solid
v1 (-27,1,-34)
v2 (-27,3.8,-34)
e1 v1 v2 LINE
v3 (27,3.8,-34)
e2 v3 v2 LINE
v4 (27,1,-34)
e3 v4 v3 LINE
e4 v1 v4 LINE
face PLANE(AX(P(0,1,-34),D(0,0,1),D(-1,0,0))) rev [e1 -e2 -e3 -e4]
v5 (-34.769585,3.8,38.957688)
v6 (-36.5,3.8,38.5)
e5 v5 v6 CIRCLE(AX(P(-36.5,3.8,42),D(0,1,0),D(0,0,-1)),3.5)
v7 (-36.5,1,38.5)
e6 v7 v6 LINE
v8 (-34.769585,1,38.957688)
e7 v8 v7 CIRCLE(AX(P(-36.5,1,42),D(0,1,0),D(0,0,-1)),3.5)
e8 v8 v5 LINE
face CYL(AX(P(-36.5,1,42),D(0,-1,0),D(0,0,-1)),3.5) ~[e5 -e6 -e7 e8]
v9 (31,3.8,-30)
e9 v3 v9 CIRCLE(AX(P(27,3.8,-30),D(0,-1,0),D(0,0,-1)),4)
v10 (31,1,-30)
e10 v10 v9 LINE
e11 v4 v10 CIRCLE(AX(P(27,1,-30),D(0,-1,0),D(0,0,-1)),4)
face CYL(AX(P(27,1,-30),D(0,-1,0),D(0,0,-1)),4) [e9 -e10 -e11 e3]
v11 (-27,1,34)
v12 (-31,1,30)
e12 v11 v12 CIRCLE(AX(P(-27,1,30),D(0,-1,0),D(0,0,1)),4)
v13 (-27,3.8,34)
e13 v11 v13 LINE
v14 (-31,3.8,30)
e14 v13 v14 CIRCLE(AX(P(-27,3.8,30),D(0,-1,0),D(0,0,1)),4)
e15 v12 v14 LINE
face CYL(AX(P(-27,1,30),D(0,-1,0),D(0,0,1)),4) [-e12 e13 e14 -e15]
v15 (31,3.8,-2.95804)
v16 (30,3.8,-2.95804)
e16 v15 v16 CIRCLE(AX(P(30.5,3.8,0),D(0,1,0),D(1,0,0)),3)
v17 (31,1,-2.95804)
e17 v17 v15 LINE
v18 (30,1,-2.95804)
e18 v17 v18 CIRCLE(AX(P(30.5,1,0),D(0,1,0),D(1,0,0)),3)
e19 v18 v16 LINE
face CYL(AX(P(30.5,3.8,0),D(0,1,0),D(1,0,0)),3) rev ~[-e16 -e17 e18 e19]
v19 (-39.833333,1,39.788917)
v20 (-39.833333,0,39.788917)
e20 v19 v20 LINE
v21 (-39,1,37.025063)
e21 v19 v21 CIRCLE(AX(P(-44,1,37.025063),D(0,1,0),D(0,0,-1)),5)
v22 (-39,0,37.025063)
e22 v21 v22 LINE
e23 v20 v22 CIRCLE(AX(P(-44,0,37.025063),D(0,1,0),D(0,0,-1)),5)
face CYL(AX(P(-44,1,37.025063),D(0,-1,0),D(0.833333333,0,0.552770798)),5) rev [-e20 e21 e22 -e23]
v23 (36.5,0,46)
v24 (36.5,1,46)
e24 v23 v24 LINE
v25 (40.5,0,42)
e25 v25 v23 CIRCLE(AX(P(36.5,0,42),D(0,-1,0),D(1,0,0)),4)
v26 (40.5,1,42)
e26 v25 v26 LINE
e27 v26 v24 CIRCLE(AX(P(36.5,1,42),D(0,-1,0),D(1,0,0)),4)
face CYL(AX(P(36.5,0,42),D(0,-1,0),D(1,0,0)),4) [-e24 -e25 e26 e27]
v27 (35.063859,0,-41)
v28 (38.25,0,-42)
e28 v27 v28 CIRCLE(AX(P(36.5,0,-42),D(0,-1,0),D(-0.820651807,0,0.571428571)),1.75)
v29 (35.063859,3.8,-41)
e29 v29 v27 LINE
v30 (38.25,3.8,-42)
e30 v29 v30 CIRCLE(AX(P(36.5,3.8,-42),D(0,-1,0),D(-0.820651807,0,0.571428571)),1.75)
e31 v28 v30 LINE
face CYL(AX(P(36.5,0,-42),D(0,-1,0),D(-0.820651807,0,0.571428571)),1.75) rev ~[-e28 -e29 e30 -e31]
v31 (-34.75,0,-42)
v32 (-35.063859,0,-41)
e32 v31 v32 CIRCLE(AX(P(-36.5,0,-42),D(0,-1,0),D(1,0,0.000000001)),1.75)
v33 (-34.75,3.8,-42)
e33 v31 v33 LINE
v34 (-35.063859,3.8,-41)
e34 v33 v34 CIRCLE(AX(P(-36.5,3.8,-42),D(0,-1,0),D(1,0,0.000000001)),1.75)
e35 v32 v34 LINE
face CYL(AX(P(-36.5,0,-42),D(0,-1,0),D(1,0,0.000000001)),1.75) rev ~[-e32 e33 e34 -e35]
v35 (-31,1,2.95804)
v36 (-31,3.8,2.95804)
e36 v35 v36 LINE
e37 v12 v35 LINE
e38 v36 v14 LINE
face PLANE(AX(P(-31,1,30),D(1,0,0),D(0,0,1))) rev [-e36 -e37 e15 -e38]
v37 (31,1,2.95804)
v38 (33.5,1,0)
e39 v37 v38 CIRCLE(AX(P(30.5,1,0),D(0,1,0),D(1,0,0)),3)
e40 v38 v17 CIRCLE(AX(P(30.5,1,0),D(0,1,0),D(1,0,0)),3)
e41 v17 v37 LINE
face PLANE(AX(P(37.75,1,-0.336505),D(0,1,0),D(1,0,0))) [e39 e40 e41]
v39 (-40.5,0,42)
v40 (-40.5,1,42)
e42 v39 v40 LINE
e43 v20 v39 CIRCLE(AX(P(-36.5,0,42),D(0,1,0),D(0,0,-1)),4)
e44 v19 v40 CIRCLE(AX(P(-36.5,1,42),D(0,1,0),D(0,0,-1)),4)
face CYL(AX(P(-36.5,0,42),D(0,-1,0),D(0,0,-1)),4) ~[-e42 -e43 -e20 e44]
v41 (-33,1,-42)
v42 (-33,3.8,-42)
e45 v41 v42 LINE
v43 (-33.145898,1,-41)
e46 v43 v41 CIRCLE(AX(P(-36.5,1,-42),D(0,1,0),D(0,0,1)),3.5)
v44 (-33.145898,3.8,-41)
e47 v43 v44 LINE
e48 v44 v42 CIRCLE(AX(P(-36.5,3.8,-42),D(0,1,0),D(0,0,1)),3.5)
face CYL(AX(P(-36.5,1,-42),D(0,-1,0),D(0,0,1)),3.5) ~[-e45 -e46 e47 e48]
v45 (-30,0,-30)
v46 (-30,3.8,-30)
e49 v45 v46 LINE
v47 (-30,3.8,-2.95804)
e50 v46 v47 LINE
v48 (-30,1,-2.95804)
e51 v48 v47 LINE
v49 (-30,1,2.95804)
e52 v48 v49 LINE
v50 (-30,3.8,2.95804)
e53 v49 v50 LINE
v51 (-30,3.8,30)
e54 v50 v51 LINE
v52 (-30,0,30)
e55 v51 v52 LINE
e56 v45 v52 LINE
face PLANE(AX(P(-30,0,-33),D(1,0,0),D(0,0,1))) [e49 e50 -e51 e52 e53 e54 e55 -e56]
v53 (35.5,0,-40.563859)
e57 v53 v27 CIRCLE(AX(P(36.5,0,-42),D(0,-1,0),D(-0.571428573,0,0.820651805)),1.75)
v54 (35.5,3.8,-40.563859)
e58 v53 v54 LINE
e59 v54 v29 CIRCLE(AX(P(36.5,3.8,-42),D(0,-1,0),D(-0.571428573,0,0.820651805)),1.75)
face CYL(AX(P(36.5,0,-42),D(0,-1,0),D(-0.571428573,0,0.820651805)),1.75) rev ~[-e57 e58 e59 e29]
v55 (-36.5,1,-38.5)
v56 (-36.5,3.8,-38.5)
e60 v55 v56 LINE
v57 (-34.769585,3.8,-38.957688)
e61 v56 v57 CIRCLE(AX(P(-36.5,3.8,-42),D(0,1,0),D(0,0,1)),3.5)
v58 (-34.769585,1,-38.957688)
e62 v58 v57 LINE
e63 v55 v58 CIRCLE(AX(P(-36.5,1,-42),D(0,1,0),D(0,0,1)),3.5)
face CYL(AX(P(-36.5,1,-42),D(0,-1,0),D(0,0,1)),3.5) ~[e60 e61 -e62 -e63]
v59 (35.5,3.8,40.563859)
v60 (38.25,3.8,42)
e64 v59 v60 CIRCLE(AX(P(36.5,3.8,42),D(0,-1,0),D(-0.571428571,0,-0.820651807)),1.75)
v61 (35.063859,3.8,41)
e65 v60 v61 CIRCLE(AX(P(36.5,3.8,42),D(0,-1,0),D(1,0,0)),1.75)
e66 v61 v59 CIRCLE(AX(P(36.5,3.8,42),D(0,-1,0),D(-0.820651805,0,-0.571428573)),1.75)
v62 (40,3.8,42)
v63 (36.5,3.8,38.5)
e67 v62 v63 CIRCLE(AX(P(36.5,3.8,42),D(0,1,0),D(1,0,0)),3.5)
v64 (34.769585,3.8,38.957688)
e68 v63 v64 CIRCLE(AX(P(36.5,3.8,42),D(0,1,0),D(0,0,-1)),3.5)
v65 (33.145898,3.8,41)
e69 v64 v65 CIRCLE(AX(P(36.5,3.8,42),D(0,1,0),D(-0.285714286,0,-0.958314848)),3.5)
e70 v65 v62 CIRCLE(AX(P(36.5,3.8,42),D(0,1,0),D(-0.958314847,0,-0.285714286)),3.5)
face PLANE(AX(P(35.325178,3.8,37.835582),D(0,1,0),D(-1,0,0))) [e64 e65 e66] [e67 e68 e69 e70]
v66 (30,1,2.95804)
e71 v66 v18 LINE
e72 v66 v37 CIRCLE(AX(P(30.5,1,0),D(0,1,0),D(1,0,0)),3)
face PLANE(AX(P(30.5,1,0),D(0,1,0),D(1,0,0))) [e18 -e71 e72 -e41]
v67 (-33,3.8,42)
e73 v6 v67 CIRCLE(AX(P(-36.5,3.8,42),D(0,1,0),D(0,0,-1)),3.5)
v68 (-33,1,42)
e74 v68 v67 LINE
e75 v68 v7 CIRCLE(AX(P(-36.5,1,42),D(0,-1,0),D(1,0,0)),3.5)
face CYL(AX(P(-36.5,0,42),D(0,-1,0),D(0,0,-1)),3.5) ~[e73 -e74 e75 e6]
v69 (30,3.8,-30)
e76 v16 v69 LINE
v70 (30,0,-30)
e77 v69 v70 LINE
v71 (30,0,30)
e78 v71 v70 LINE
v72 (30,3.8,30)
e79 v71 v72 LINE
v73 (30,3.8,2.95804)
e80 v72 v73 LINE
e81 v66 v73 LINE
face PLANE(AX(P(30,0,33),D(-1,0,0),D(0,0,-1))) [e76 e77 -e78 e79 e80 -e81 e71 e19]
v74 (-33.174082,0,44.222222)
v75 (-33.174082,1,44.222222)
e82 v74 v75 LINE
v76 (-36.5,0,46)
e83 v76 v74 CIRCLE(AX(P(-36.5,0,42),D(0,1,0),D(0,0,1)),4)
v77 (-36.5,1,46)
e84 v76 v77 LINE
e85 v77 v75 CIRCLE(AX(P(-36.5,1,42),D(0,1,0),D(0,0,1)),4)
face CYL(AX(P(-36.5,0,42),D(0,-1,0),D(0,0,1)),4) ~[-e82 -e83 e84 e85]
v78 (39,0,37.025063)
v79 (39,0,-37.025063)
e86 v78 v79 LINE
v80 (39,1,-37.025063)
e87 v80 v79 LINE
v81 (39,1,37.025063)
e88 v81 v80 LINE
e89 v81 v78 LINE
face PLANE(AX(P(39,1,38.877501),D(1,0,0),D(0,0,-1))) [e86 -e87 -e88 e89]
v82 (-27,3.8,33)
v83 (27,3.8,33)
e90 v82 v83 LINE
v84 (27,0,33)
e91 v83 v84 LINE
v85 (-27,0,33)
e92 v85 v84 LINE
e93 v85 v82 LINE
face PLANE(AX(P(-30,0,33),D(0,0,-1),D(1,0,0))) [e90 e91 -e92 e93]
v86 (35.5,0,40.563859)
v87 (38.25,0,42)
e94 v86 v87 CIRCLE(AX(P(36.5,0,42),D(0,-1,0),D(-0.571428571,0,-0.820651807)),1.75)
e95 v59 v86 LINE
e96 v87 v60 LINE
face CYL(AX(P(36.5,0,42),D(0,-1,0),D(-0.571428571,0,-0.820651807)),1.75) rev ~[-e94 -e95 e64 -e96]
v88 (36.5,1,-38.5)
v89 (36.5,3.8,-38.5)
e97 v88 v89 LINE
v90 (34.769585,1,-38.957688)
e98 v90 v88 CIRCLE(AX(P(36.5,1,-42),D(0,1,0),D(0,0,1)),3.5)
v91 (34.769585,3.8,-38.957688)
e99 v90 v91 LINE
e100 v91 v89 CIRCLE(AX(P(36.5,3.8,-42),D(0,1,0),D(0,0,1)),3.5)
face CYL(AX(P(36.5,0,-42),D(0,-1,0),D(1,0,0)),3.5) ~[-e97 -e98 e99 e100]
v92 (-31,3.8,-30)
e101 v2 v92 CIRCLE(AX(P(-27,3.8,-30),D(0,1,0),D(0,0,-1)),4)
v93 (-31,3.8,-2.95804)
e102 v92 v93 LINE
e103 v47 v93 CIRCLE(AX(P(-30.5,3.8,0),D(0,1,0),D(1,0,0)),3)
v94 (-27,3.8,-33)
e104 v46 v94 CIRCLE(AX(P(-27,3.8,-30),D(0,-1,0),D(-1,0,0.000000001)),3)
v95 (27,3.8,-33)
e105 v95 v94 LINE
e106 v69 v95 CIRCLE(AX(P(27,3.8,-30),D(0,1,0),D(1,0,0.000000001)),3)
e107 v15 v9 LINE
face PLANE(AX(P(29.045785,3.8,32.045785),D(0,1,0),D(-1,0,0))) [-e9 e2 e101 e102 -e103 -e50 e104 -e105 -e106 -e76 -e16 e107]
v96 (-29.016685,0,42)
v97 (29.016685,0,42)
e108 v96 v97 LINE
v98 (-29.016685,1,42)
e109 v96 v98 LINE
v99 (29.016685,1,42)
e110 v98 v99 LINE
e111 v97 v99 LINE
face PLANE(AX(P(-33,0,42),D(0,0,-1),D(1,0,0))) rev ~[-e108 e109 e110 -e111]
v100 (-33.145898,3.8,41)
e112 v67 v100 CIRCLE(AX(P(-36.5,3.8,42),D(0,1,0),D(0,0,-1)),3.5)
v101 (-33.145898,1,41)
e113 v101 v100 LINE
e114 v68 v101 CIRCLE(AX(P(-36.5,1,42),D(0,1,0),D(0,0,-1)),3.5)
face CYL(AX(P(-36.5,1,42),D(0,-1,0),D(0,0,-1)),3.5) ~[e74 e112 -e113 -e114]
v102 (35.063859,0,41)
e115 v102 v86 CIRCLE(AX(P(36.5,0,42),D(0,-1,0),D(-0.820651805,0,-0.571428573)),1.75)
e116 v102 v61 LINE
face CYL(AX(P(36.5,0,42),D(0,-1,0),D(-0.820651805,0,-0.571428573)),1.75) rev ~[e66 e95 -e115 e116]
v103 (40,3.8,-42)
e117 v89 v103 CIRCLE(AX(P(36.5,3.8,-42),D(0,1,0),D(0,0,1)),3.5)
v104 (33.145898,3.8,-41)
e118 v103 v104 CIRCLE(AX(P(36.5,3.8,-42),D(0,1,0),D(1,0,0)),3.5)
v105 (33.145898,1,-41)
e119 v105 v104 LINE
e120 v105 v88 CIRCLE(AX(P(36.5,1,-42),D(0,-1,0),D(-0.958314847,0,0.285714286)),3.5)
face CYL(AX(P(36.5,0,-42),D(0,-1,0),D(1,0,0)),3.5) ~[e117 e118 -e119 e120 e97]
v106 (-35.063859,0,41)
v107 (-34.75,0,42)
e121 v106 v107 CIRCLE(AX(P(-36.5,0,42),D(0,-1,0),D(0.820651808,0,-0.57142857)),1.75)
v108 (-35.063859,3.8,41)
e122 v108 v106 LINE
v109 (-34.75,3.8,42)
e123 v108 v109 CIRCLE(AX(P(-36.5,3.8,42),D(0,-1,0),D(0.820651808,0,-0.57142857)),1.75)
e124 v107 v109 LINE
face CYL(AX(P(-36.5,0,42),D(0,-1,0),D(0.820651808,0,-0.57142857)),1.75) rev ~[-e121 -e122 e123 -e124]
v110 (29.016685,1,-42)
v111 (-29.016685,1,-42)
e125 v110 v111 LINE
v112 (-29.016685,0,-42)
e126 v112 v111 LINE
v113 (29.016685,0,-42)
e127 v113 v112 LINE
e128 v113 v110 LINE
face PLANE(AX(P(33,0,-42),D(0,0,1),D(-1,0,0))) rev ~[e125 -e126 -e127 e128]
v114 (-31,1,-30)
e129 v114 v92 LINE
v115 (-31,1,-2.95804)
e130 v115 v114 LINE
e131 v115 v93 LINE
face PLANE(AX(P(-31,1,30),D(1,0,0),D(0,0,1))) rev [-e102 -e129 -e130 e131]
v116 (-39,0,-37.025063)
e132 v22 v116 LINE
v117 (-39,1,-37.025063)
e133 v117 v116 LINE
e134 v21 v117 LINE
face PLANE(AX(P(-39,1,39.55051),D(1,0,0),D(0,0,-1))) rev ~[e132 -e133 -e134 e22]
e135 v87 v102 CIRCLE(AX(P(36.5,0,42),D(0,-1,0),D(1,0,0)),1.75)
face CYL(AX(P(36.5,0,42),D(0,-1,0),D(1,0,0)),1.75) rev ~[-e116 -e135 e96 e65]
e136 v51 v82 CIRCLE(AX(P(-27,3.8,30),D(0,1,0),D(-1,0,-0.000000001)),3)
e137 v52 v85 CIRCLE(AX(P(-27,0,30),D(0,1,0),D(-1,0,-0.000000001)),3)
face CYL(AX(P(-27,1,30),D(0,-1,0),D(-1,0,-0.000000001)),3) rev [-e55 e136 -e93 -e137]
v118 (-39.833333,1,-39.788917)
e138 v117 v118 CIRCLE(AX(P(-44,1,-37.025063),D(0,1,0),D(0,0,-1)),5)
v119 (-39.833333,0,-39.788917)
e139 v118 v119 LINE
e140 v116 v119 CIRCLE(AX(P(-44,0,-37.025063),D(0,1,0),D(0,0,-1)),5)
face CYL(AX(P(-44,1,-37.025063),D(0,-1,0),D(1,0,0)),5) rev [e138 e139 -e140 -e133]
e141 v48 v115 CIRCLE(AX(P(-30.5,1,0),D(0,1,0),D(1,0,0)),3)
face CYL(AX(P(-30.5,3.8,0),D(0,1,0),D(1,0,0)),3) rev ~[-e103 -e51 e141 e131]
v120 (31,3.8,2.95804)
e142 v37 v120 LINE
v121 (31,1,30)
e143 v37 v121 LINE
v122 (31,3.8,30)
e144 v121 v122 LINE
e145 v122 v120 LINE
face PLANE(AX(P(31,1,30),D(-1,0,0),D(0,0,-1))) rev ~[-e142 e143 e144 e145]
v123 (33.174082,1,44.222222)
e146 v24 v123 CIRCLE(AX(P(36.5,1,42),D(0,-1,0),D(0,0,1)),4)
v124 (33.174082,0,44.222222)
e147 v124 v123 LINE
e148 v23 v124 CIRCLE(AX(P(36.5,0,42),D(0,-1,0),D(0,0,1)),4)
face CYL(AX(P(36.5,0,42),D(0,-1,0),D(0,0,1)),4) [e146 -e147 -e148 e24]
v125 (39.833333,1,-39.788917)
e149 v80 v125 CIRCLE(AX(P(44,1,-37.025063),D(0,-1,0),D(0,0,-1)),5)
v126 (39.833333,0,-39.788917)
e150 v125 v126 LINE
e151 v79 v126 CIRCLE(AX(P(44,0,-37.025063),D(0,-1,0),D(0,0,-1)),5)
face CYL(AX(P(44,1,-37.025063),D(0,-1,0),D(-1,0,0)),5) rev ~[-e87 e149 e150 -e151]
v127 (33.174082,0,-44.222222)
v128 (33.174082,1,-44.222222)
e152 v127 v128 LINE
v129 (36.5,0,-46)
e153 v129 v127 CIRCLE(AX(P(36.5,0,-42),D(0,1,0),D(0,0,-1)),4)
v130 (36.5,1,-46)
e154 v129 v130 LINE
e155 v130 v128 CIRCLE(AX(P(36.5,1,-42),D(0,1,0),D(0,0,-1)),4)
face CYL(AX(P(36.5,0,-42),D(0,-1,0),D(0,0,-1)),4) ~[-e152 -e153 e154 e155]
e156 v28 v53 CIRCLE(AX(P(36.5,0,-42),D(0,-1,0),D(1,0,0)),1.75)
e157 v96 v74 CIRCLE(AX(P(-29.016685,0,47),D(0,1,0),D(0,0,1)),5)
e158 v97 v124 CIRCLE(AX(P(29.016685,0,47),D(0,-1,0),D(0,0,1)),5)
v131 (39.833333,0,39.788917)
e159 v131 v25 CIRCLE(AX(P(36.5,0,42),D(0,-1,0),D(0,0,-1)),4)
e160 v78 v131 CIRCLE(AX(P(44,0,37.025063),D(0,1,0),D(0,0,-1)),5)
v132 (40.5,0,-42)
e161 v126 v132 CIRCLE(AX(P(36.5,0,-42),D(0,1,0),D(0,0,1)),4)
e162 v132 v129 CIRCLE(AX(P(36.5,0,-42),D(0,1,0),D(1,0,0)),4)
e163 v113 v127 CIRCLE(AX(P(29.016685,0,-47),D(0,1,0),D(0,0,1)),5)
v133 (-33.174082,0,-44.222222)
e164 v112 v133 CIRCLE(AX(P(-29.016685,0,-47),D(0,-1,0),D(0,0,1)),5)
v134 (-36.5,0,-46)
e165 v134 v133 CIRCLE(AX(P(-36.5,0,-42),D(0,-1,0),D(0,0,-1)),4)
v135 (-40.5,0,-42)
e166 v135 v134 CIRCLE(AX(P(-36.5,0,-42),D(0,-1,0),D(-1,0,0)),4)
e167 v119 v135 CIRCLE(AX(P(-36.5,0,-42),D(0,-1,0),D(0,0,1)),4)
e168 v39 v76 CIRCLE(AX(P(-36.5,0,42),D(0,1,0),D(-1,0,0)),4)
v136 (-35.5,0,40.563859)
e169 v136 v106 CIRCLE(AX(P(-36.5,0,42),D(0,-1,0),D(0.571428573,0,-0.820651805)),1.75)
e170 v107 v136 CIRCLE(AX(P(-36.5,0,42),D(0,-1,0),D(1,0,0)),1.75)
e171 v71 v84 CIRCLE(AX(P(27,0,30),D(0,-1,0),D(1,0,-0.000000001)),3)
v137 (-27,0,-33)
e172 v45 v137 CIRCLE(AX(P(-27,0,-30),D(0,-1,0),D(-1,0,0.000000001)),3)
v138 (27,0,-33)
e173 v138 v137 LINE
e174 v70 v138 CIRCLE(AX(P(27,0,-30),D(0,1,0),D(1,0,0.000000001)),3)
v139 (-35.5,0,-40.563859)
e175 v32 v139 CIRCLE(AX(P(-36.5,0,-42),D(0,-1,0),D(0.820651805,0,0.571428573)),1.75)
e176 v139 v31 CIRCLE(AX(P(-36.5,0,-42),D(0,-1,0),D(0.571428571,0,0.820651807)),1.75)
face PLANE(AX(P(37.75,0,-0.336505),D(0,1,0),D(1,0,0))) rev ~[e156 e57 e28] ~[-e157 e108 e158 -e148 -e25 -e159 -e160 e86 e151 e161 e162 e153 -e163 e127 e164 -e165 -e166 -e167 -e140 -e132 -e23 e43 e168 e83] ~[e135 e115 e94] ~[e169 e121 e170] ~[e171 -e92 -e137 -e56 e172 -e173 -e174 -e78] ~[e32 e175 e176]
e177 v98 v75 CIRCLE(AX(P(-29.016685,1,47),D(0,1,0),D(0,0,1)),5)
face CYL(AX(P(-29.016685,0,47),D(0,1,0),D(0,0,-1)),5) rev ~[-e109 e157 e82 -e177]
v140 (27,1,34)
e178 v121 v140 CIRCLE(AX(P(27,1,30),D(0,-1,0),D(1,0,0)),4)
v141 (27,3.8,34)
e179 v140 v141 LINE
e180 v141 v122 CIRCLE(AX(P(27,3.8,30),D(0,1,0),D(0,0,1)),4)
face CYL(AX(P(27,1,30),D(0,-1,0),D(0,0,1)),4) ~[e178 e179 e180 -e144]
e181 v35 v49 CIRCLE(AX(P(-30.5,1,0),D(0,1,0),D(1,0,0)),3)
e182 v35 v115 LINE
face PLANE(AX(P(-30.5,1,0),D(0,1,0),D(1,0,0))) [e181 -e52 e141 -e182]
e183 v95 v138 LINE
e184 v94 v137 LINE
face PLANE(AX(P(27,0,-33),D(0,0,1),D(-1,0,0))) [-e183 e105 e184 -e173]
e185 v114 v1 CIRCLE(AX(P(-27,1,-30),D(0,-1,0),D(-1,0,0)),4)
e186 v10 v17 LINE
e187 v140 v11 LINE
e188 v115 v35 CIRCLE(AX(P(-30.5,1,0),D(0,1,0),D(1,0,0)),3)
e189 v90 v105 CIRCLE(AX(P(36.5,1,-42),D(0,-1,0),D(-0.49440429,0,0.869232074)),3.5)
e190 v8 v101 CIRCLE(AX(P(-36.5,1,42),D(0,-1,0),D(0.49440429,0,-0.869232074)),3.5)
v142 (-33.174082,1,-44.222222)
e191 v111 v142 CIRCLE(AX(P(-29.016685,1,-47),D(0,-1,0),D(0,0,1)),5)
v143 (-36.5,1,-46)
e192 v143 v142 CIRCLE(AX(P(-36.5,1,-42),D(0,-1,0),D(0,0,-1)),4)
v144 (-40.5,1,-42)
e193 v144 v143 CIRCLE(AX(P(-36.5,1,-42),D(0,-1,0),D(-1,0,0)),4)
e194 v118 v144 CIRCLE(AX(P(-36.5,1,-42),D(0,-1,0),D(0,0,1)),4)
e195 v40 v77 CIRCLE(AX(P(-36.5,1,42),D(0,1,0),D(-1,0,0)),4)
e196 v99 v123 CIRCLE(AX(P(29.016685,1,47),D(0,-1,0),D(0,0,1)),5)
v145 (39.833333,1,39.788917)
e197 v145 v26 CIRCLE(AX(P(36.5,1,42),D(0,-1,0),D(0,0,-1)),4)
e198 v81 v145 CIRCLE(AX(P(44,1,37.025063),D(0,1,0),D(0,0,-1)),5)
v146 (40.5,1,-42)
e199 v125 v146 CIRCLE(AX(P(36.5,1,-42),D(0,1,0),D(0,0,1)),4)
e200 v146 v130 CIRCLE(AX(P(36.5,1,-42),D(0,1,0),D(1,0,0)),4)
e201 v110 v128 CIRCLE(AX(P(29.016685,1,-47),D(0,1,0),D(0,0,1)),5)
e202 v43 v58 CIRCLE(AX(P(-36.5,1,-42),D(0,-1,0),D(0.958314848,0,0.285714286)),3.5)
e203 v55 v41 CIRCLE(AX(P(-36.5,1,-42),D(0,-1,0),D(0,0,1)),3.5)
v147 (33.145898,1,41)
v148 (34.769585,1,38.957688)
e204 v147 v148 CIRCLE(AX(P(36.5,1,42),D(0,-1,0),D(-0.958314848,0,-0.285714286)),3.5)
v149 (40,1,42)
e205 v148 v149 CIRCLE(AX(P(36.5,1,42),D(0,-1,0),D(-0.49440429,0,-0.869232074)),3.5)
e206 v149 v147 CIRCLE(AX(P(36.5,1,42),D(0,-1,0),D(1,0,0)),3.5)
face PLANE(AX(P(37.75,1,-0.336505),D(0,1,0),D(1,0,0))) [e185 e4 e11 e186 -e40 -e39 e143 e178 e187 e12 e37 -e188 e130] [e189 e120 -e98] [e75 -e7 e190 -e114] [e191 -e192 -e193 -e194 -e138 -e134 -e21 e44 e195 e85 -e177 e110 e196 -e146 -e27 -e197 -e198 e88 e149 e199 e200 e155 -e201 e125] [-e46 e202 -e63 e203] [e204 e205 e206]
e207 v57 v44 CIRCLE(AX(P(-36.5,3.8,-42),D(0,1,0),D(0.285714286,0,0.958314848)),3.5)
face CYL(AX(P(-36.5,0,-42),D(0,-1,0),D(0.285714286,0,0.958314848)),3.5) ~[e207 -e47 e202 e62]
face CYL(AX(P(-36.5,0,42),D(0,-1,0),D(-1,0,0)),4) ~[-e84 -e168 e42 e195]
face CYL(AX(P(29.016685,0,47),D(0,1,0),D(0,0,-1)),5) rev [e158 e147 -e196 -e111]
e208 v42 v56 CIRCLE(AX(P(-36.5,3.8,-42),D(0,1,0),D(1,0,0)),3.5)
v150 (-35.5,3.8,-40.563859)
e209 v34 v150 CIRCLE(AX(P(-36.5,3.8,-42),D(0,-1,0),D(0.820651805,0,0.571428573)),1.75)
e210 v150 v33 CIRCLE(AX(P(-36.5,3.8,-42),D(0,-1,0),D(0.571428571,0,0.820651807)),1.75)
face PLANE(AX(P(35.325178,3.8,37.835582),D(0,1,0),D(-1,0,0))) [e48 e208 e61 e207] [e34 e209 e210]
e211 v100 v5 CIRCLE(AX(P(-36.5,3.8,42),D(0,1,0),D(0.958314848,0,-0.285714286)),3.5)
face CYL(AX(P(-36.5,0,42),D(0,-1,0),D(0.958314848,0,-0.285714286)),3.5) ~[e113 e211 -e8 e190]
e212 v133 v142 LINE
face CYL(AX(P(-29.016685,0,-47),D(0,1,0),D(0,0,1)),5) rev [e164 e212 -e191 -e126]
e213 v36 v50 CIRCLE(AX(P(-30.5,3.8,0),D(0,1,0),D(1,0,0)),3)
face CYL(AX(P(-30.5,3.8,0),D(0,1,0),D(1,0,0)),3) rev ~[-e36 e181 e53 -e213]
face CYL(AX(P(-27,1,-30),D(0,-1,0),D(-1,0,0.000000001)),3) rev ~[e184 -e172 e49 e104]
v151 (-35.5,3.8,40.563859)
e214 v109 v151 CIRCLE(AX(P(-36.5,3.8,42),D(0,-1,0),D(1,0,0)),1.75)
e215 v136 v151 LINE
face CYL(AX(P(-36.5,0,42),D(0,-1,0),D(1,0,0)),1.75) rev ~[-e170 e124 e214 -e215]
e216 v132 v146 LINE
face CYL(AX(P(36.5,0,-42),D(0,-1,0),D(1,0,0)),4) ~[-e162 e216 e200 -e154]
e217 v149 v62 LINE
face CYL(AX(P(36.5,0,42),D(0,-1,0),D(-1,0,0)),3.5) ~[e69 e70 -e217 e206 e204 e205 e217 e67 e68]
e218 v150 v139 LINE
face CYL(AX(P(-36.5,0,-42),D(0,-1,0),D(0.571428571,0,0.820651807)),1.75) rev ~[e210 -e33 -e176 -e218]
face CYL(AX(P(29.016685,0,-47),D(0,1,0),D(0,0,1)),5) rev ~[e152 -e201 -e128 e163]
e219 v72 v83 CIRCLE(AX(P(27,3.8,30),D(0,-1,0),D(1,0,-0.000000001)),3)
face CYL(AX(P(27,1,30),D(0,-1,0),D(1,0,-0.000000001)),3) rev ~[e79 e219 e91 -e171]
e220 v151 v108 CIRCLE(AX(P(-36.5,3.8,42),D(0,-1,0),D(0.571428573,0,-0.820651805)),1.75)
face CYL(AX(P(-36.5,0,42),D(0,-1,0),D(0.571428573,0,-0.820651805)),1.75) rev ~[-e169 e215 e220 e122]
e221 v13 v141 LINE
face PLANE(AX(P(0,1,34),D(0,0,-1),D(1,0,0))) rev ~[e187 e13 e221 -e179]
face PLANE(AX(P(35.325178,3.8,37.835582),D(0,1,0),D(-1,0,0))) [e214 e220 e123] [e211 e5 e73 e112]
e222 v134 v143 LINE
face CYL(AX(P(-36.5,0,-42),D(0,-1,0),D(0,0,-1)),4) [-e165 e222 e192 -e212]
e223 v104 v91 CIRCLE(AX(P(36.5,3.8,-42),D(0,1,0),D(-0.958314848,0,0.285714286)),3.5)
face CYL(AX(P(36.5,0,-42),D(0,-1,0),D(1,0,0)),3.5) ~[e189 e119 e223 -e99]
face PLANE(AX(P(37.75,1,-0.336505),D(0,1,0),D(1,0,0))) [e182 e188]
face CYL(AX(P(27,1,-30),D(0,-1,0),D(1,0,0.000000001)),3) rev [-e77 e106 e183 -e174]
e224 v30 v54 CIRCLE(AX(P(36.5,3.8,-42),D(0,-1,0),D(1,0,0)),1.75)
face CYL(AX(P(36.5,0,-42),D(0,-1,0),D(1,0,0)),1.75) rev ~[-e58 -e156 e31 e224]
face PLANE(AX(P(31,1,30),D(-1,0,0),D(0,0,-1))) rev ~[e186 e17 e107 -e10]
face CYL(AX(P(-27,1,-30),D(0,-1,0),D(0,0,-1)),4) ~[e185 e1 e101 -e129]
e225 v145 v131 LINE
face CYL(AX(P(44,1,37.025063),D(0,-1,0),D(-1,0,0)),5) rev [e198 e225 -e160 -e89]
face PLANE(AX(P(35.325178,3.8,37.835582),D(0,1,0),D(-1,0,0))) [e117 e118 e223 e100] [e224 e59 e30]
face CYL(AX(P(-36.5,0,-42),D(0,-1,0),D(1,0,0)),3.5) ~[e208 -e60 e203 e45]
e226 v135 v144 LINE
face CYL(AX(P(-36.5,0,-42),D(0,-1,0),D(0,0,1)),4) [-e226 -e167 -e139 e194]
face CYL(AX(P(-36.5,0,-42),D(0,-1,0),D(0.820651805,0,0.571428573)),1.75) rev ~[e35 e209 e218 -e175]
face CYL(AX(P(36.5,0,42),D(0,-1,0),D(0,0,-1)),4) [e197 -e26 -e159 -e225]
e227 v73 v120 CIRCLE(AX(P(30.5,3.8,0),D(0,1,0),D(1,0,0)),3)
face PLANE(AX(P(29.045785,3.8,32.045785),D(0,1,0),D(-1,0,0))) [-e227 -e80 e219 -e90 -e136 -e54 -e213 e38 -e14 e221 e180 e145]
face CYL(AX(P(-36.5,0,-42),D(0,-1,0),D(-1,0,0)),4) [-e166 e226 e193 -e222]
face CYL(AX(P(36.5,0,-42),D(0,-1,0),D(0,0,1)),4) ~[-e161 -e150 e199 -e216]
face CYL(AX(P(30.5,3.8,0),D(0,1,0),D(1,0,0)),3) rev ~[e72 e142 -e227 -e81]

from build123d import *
from build123d.topology import SkipClean

# Parameters (mm, degrees)
FRAMEANDBOLTHOLES_DEPTH       = 3.8
INSIDEFILLET_DEPTH            = 3.8
MIRRORFILLET2_COPY_1_DEPTH    = 3.8
WIRETROUGH_DEPTH              = 1
WIREINSIDEWALL_DEPTH          = 2.8
WIRESPACEMIRROR2_COPY_1_DEPTH = 1
WIRESPACEMIRROR2_COPY_2_DEPTH = 2.8
INNERRING_START               = 1
INNERRING_DEPTH               = 1
REMOVEOUTERRING_START         = -2.8
SKETCH8_W                     = 100
SKETCH8_H                     = 100
SKETCH8_R                     = 3.5
SKETCH8_W_2                   = 62
SKETCH8_H_2                   = 68
REMOVEOUTERRING_DEPTH         = 2.8
BOSS_EXTRUDE2_DEPTH           = 1
MIRROR2_COPY_1_DEPTH          = 1
SKETCH10_W                    = 2.5
SKETCH10_H                    = 78.428011258
SKETCH10_H_2                  = 79.101020514
BOSS_EXTRUDE3_DEPTH           = 1
FILLET1_R                     = 5
SKETCH11_R                    = 3
CUT_EXTRUDE1_DEPTH            = 2.8


with BuildPart() as part:
    # Sketch1 → FrameAndBoltHoles (new body)
    with BuildSketch(Plane(origin=(0, 0, 0), x_dir=(1, 0, 0), z_dir=(0, 1, 0))):
        with BuildLine():
            Line((33, 42), (-33, 42))
            ThreePointArc((-33, 42), (-33.036666571, 41.494706462), (-33.145898034, 41))
            Line((-33.145898034, 41), (33.145898034, 41))
            ThreePointArc((33.145898034, 41), (33.036666571, 41.494706462), (33, 42))
        make_face()
        with BuildLine():
            ThreePointArc((-33.145898034, 41), (-33.036666571, 41.494706462), (-33, 42))
            ThreePointArc((-33, 42), (-38.974873734, 44.474873734), (-36.5, 38.5))
            ThreePointArc((-36.5, 38.5), (-35.994706462, 38.536666571), (-35.5, 38.645898034))
            Line((-35.5, 38.645898034), (-35.5, 40.563859338))
            ThreePointArc((-35.5, 40.563859338), (-38.051209206, 42.810092587), (-34.75, 42))
            ThreePointArc((-34.75, 42), (-34.83030749, 41.475951413), (-35.063859338, 41))
            Line((-35.063859338, 41), (-33.145898034, 41))
        make_face()
        with BuildLine():
            ThreePointArc((-35.5, 38.645898034), (-34.025126266, 39.525126266), (-33.145898034, 41))
            Line((-33.145898034, 41), (-35.063859338, 41))
            ThreePointArc((-35.063859338, 41), (-35.262563133, 40.762563133), (-35.5, 40.563859338))
            Line((-35.5, 40.563859338), (-35.5, 38.645898034))
        make_face()
        with BuildLine():
            ThreePointArc((-35.5, 38.645898034), (-35.994706462, 38.536666571), (-36.5, 38.5))
            Line((-36.5, 38.5), (-36.5, -38.5))
            ThreePointArc((-36.5, -38.5), (-35.994706462, -38.536666571), (-35.5, -38.645898034))
            Line((-35.5, -38.645898034), (-35.5, 38.645898034))
        make_face()
        with BuildLine():
            ThreePointArc((-35.5, -38.645898034), (-35.994706462, -38.536666571), (-36.5, -38.5))
            ThreePointArc((-36.5, -38.5), (-38.974873734, -44.474873734), (-33, -42))
            ThreePointArc((-33, -42), (-33.036666571, -41.494706462), (-33.145898034, -41))
            Line((-33.145898034, -41), (-35.063859338, -41))
            ThreePointArc((-35.063859338, -41), (-34.83030749, -41.475951413), (-34.75, -42))
            ThreePointArc((-34.75, -42), (-38.051209206, -42.810092587), (-35.5, -40.563859338))
            Line((-35.5, -40.563859338), (-35.5, -38.645898034))
        make_face()
        with BuildLine():
            ThreePointArc((-33.145898034, -41), (-34.025126266, -39.525126266), (-35.5, -38.645898034))
            Line((-35.5, -38.645898034), (-35.5, -40.563859338))
            ThreePointArc((-35.5, -40.563859338), (-35.262563133, -40.762563133), (-35.063859338, -41))
            Line((-35.063859338, -41), (-33.145898034, -41))
        make_face()
        with BuildLine():
            ThreePointArc((-33.145898034, -41), (-33.036666571, -41.494706462), (-33, -42))
            Line((-33, -42), (33, -42))
            ThreePointArc((33, -42), (33.036666571, -41.494706462), (33.145898034, -41))
            Line((33.145898034, -41), (-33.145898034, -41))
        make_face()
        with BuildLine():
            ThreePointArc((40, -42), (38.974873734, -39.525126266), (36.5, -38.5))
            ThreePointArc((36.5, -38.5), (35.994706462, -38.536666571), (35.5, -38.645898034))
            Line((35.5, -38.645898034), (35.5, -40.563859338))
            ThreePointArc((35.5, -40.563859338), (37.310092587, -40.448790794), (38.25, -42))
            ThreePointArc((38.25, -42), (35.975951413, -43.66969251), (35.063859338, -41))
            Line((35.063859338, -41), (33.145898034, -41))
            ThreePointArc((33.145898034, -41), (33.036666571, -41.494706462), (33, -42))
            ThreePointArc((33, -42), (36.5, -45.5), (40, -42))
        make_face()
        with BuildLine():
            Line((35.5, -40.563859338), (35.5, -38.645898034))
            ThreePointArc((35.5, -38.645898034), (34.025126266, -39.525126266), (33.145898034, -41))
            Line((33.145898034, -41), (35.063859338, -41))
            ThreePointArc((35.063859338, -41), (35.262563133, -40.762563133), (35.5, -40.563859338))
        make_face()
        with BuildLine():
            Line((36.5, -38.5), (36.5, 38.5))
            ThreePointArc((36.5, 38.5), (35.994706462, 38.536666571), (35.5, 38.645898034))
            Line((35.5, 38.645898034), (35.5, -38.645898034))
            ThreePointArc((35.5, -38.645898034), (35.994706462, -38.536666571), (36.5, -38.5))
        make_face()
        with BuildLine():
            ThreePointArc((40, 42), (36.5, 45.5), (33, 42))
            ThreePointArc((33, 42), (33.036666571, 41.494706462), (33.145898034, 41))
            Line((33.145898034, 41), (35.063859338, 41))
            ThreePointArc((35.063859338, 41), (35.975951413, 43.66969251), (38.25, 42))
            ThreePointArc((38.25, 42), (37.310092587, 40.448790794), (35.5, 40.563859338))
            Line((35.5, 40.563859338), (35.5, 38.645898034))
            ThreePointArc((35.5, 38.645898034), (35.994706462, 38.536666571), (36.5, 38.5))
            ThreePointArc((36.5, 38.5), (38.974873734, 39.525126266), (40, 42))
        make_face()
        with BuildLine():
            Line((35.063859338, 41), (33.145898034, 41))
            ThreePointArc((33.145898034, 41), (34.025126266, 39.525126266), (35.5, 38.645898034))
            Line((35.5, 38.645898034), (35.5, 40.563859338))
            ThreePointArc((35.5, 40.563859338), (35.262563133, 40.762563133), (35.063859338, 41))
        make_face()
    extrude(amount=FRAMEANDBOLTHOLES_DEPTH)

    # Sketch2 → InsideFillet (add)
    with BuildSketch(Plane(origin=(0, 0, 0), x_dir=(1, 0, 0), z_dir=(0, 1, 0))):
        with BuildLine():
            Line((-35.5, 38.645898034), (-35.5, 36.500000047))
            ThreePointArc((-35.5, 36.500000047), (-35.313532909, 37.781964835), (-34.769584986, 38.957687741))
            ThreePointArc((-34.769584986, 38.957687741), (-35.125920402, 38.781008658), (-35.5, 38.645898034))
        make_face()
    insidefillet = extrude(amount=INSIDEFILLET_DEPTH)

    # MirrorFillet: InsideFillet across plane
    add(insidefillet.mirror(Plane(origin=(0, 0, 0), x_dir=(0, 0, 1), z_dir=(1, 0, 0))))

    # MirrorFillet2: InsideFillet across plane
    add(insidefillet.mirror(Plane.XY))

    # MirrorFillet2 copy 1 sketch → MirrorFillet2 copy 1 (add)
    with BuildSketch(Plane(origin=(0, 0, 0), x_dir=(-1, 0, 0), z_dir=(0, 1, 0))):
        with BuildLine():
            Line((-35.5, 38.645898034), (-35.5, 36.500000047))
            ThreePointArc((-35.5, 36.500000047), (-35.313532909, 37.781964835), (-34.769584986, 38.957687741))
            ThreePointArc((-34.769584986, 38.957687741), (-35.125920402, 38.781008658), (-35.5, 38.645898034))
        make_face()
    extrude(amount=MIRRORFILLET2_COPY_1_DEPTH)

    # Sketch3 → WireTrough (add)
    with BuildSketch(Plane(origin=(0, 0, 0), x_dir=(1, 0, 0), z_dir=(0, 1, 0))):
        with BuildLine():
            Line((-27, 41), (-27, 34))
            ThreePointArc((-27, 34), (-26.54814994, 33.974397001), (-26.102084238, 33.897915762))
            Line((-26.102084238, 33.897915762), (-19, 41))
            Line((-19, 41), (-27, 41))
        make_face()
        with BuildLine():
            ThreePointArc((-31, 30), (-29.828427125, 32.828427125), (-27, 34))
            Line((-27, 34), (-27, 41))
            Line((-27, 41), (-31, 41))
            ThreePointArc((-31, 41), (-34.181980515, 39.681980515), (-35.5, 36.5))
            Line((-35.5, 36.5), (-35.5, 30))
            Line((-35.5, 30), (-31, 30))
        make_face()
        with BuildLine():
            ThreePointArc((-30.897915762, 29.102084238), (-30.974397001, 29.54814994), (-31, 30))
            Line((-31, 30), (-35.5, 30))
            Line((-35.5, 30), (-35.5, 24.5))
            Line((-35.5, 24.5), (-30.897915762, 29.102084238))
        make_face()
        with BuildLine():
            Line((-27, 34), (-27, 33))
            Line((-27, 33), (-26.102084238, 33.897915762))
            ThreePointArc((-26.102084238, 33.897915762), (-26.54814994, 33.974397001), (-27, 34))
        make_face()
        with BuildLine():
            ThreePointArc((-30, 30), (-29.121320344, 32.121320344), (-27, 33))
            Line((-27, 33), (-27, 34))
            ThreePointArc((-27, 34), (-29.828427125, 32.828427125), (-31, 30))
            Line((-31, 30), (-30, 30))
        make_face()
        with BuildLine():
            Line((-30.897915762, 29.102084238), (-30, 30))
            Line((-30, 30), (-31, 30))
            ThreePointArc((-31, 30), (-30.974397001, 29.54814994), (-30.897915762, 29.102084238))
        make_face()
    wiretrough = extrude(amount=WIRETROUGH_DEPTH)

    # Sketch4 → WireInsideWall (add)
    with BuildSketch(Plane(origin=(0, 1, 0), x_dir=(1, 0, 0), z_dir=(0, 1, 0))):
        with BuildLine():
            ThreePointArc((-30, 30), (-29.121320344, 32.121320344), (-27, 33))
            Line((-27, 33), (-26.102084238, 33.897915762))
            ThreePointArc((-26.102084238, 33.897915762), (-26.54814994, 33.974397001), (-27, 34))
            ThreePointArc((-27, 34), (-29.828427125, 32.828427125), (-31, 30))
            ThreePointArc((-31, 30), (-30.974397001, 29.54814994), (-30.897915762, 29.102084238))
            Line((-30.897915762, 29.102084238), (-30, 30))
        make_face()
        with BuildLine():
            Line((-26, 34), (-26.102084238, 33.897915762))
            ThreePointArc((-26.102084238, 33.897915762), (-25.172171436, 33.557954854), (-24.354248689, 33))
            Line((-24.354248689, 33), (0, 33))
            Line((0, 33), (0, 34))
            Line((0, 34), (-26, 34))
        make_face()
        with BuildLine():
            Line((-26.102084238, 33.897915762), (-27, 33))
            Line((-27, 33), (-24.354248689, 33))
            ThreePointArc((-24.354248689, 33), (-25.172171436, 33.557954854), (-26.102084238, 33.897915762))
        make_face()
        with BuildLine():
            Line((-30, 27.354248689), (-30, 30))
            Line((-30, 30), (-30.897915762, 29.102084238))
            ThreePointArc((-30.897915762, 29.102084238), (-30.557954854, 28.172171436), (-30, 27.354248689))
        make_face()
        with BuildLine():
            ThreePointArc((-30, 27.354248689), (-30.557954854, 28.172171436), (-30.897915762, 29.102084238))
            Line((-30.897915762, 29.102084238), (-31, 29))
            Line((-31, 29), (-31, 0))
            Line((-31, 0), (-30, 0))
            Line((-30, 0), (-30, 27.354248689))
        make_face()
        with BuildLine():
            ThreePointArc((-27, 34), (-26.54814994, 33.974397001), (-26.102084238, 33.897915762))
            Line((-26.102084238, 33.897915762), (-26, 34))
            Line((-26, 34), (-27, 34))
        make_face()
        with BuildLine():
            Line((-31, 29), (-30.897915762, 29.102084238))
            ThreePointArc((-30.897915762, 29.102084238), (-30.974397001, 29.54814994), (-31, 30))
            Line((-31, 30), (-31, 29))
        make_face()
    wireinsidewall = extrude(amount=WIREINSIDEWALL_DEPTH)

    # WireSpaceMirror: WireTrough, WireInsideWall across plane
    add(wiretrough.mirror(Plane(origin=(0, 0, 0), x_dir=(0, 0, 1), z_dir=(1, 0, 0))))
    add(wireinsidewall.mirror(Plane(origin=(0, 0, 0), x_dir=(0, 0, 1), z_dir=(1, 0, 0))))

    # WireSpaceMirror2: WireTrough, WireInsideWall across plane
    add(wiretrough.mirror(Plane.XY))
    add(wireinsidewall.mirror(Plane.XY))

    # WireSpaceMirror2 copy 1 sketch → WireSpaceMirror2 copy 1 (add)
    with BuildSketch(Plane(origin=(0, 0, 0), x_dir=(-1, 0, 0), z_dir=(0, 1, 0))):
        with BuildLine():
            Line((-27, 41), (-27, 34))
            ThreePointArc((-27, 34), (-26.54814994, 33.974397001), (-26.102084238, 33.897915762))
            Line((-26.102084238, 33.897915762), (-19, 41))
            Line((-19, 41), (-27, 41))
        make_face()
        with BuildLine():
            ThreePointArc((-31, 30), (-29.828427125, 32.828427125), (-27, 34))
            Line((-27, 34), (-27, 41))
            Line((-27, 41), (-31, 41))
            ThreePointArc((-31, 41), (-34.181980515, 39.681980515), (-35.5, 36.5))
            Line((-35.5, 36.5), (-35.5, 30))
            Line((-35.5, 30), (-31, 30))
        make_face()
        with BuildLine():
            ThreePointArc((-30.897915762, 29.102084238), (-30.974397001, 29.54814994), (-31, 30))
            Line((-31, 30), (-35.5, 30))
            Line((-35.5, 30), (-35.5, 24.5))
            Line((-35.5, 24.5), (-30.897915762, 29.102084238))
        make_face()
        with BuildLine():
            Line((-27, 34), (-27, 33))
            Line((-27, 33), (-26.102084238, 33.897915762))
            ThreePointArc((-26.102084238, 33.897915762), (-26.54814994, 33.974397001), (-27, 34))
        make_face()
        with BuildLine():
            ThreePointArc((-30, 30), (-29.121320344, 32.121320344), (-27, 33))
            Line((-27, 33), (-27, 34))
            ThreePointArc((-27, 34), (-29.828427125, 32.828427125), (-31, 30))
            Line((-31, 30), (-30, 30))
        make_face()
        with BuildLine():
            Line((-30.897915762, 29.102084238), (-30, 30))
            Line((-30, 30), (-31, 30))
            ThreePointArc((-31, 30), (-30.974397001, 29.54814994), (-30.897915762, 29.102084238))
        make_face()
    extrude(amount=WIRESPACEMIRROR2_COPY_1_DEPTH)

    # WireSpaceMirror2 copy 2 sketch → WireSpaceMirror2 copy 2 (add)
    with BuildSketch(Plane(origin=(0, 1, 0), x_dir=(-1, 0, 0), z_dir=(0, 1, 0))):
        with BuildLine():
            ThreePointArc((-30, 30), (-29.121320344, 32.121320344), (-27, 33))
            Line((-27, 33), (-26.102084238, 33.897915762))
            ThreePointArc((-26.102084238, 33.897915762), (-26.54814994, 33.974397001), (-27, 34))
            ThreePointArc((-27, 34), (-29.828427125, 32.828427125), (-31, 30))
            ThreePointArc((-31, 30), (-30.974397001, 29.54814994), (-30.897915762, 29.102084238))
            Line((-30.897915762, 29.102084238), (-30, 30))
        make_face()
        with BuildLine():
            Line((-26, 34), (-26.102084238, 33.897915762))
            ThreePointArc((-26.102084238, 33.897915762), (-25.172171436, 33.557954854), (-24.354248689, 33))
            Line((-24.354248689, 33), (0, 33))
            Line((0, 33), (0, 34))
            Line((0, 34), (-26, 34))
        make_face()
        with BuildLine():
            Line((-26.102084238, 33.897915762), (-27, 33))
            Line((-27, 33), (-24.354248689, 33))
            ThreePointArc((-24.354248689, 33), (-25.172171436, 33.557954854), (-26.102084238, 33.897915762))
        make_face()
        with BuildLine():
            Line((-30, 27.354248689), (-30, 30))
            Line((-30, 30), (-30.897915762, 29.102084238))
            ThreePointArc((-30.897915762, 29.102084238), (-30.557954854, 28.172171436), (-30, 27.354248689))
        make_face()
        with BuildLine():
            ThreePointArc((-30, 27.354248689), (-30.557954854, 28.172171436), (-30.897915762, 29.102084238))
            Line((-30.897915762, 29.102084238), (-31, 29))
            Line((-31, 29), (-31, 0))
            Line((-31, 0), (-30, 0))
            Line((-30, 0), (-30, 27.354248689))
        make_face()
        with BuildLine():
            ThreePointArc((-27, 34), (-26.54814994, 33.974397001), (-26.102084238, 33.897915762))
            Line((-26.102084238, 33.897915762), (-26, 34))
            Line((-26, 34), (-27, 34))
        make_face()
        with BuildLine():
            Line((-31, 29), (-30.897915762, 29.102084238))
            ThreePointArc((-30.897915762, 29.102084238), (-30.974397001, 29.54814994), (-31, 30))
            Line((-31, 30), (-31, 29))
        make_face()
    extrude(amount=WIRESPACEMIRROR2_COPY_2_DEPTH)

    # Sketch7 → InnerRing (add)
    # profile 1 of 2: a face of its own
    with SkipClean():  # the faces are left unmerged after this step: merging them gives an invalid solid
        with BuildSketch(Plane.XZ.offset(-1).offset(INNERRING_START)):
            with BuildLine():
                Line((35.063859338, 41), (-35.063859338, 41))
                ThreePointArc((-35.063859338, 41), (-35.262563133, 40.762563133), (-35.5, 40.563859338))
                Line((-35.5, 40.563859338), (-35.5, -40.563859338))
                ThreePointArc((-35.5, -40.563859338), (-35.262563133, -40.762563133), (-35.063859338, -41))
                Line((-35.063859338, -41), (35.063859338, -41))
                ThreePointArc((35.063859338, -41), (35.262563133, -40.762563133), (35.5, -40.563859338))
                Line((35.5, -40.563859338), (35.5, 40.563859338))
                ThreePointArc((35.5, 40.563859338), (35.262563133, 40.762563133), (35.063859338, 41))
            make_face()
            Polygon((-30, -33), (-30, 33), (30, 33), (30, -33), (27, -33), (26, -34), (-26, -34), (-27, -33), align=None, mode=Mode.SUBTRACT)
        # profile 2 of 2: a face of its own
        with BuildSketch(Plane.XZ.offset(-1).offset(INNERRING_START)):
            Polygon((26, -34), (27, -33), (-27, -33), (-26, -34), align=None)
        extrude(amount=-INNERRING_DEPTH)

    # Sketch8 → RemoveOuterRing (cut)
    with SkipClean():  # the faces are left unmerged after this step: merging them gives an invalid solid
        with BuildSketch(Plane(origin=(0, 3.8, 0), x_dir=(1, 0, 0), z_dir=(0, 1, 0)).offset(REMOVEOUTERRING_START)):
            Rectangle(SKETCH8_W, SKETCH8_H)
            with Locations(Location((-36.5, 42, 0), (0, 0, 270))):
                Circle(SKETCH8_R, mode=Mode.SUBTRACT)
            with Locations(Location((36.5, 42, 0), (0, 0, 270))):
                Circle(SKETCH8_R, mode=Mode.SUBTRACT)
            with Locations(Location((36.5, -42, 0), (0, 0, 90))):
                Circle(SKETCH8_R, mode=Mode.SUBTRACT)
            with Locations(Location((-36.5, -42, 0), (0, 0, 90))):
                Circle(SKETCH8_R, mode=Mode.SUBTRACT)
            Rectangle(SKETCH8_W_2, SKETCH8_H_2, mode=Mode.SUBTRACT)
        extrude(amount=REMOVEOUTERRING_DEPTH, mode=Mode.SUBTRACT)

    # Sketch9 → Boss-Extrude2 (add)
    with SkipClean():  # the faces are left unmerged after this step: merging them gives an invalid solid
        with BuildSketch(Plane.XZ):
            with BuildLine():
                ThreePointArc((-36.5, -46), (-33.671572875, -44.828427125), (-32.5, -42))
                Line((-32.5, -42), (-33, -42))
                ThreePointArc((-33, -42), (-38.974873734, -44.474873734), (-36.5, -38.5))
                Line((-36.5, -38.5), (-36.5, -38))
                ThreePointArc((-36.5, -38), (-39.328427125, -39.171572875), (-40.5, -42))
                ThreePointArc((-40.5, -42), (-39.328427125, -44.828427125), (-36.5, -46))
            make_face()
        boss_extrude2 = extrude(amount=-BOSS_EXTRUDE2_DEPTH)

    # Mirror1: Boss-Extrude2 across plane
    with SkipClean():  # the faces are left unmerged after this step: merging them gives an invalid solid
        add(boss_extrude2.mirror(Plane(origin=(0, 0, 0), x_dir=(0, 0, 1), z_dir=(1, 0, 0))))

    # Mirror2: Boss-Extrude2 across plane
    with SkipClean():  # the faces are left unmerged after this step: merging them gives an invalid solid
        add(boss_extrude2.mirror(Plane.XY))

    # Mirror2 copy 1 sketch → Mirror2 copy 1 (add)
    with SkipClean():  # the faces are left unmerged after this step: merging them gives an invalid solid
        with BuildSketch(Plane(origin=(0, 0, 0), x_dir=(-1, 0, 0), z_dir=(0, -1, 0))):
            with BuildLine():
                ThreePointArc((-36.5, -46), (-33.671572875, -44.828427125), (-32.5, -42))
                Line((-32.5, -42), (-33, -42))
                ThreePointArc((-33, -42), (-38.974873734, -44.474873734), (-36.5, -38.5))
                Line((-36.5, -38.5), (-36.5, -38))
                ThreePointArc((-36.5, -38), (-39.328427125, -39.171572875), (-40.5, -42))
                ThreePointArc((-40.5, -42), (-39.328427125, -44.828427125), (-36.5, -46))
            make_face()
        extrude(amount=-MIRROR2_COPY_1_DEPTH)

    # Sketch10 → Boss-Extrude3 (add)
    with SkipClean():  # the faces are left unmerged after this step: merging them gives an invalid solid
        with BuildSketch(Plane(origin=(0, 1, 0), x_dir=(1, 0, 0), z_dir=(0, 1, 0))):
            with Locations((37.75, 0.336504628)):
                Rectangle(SKETCH10_W, SKETCH10_H)
            with Locations((-37.75, 0)):
                Rectangle(SKETCH10_W, SKETCH10_H_2)
        extrude(amount=-BOSS_EXTRUDE3_DEPTH)

    # Fillet1
    fillet1_edges = [part.edges().sort_by_distance(p)[0] for p in [
        (-32.5, 0.5, -42),
        (32.5, 0.5, -42),
        (32.5, 0.5, 42),
        (-32.5, 0.5, 42),
        (39, 0.5, -38.877501001),
        (39, 0.5, 38.877501001),
        (-39, 0.5, 38.877501001),
        (-39, 0.5, -38.877501001),
    ]]
    fillet(fillet1_edges, radius=FILLET1_R)

    # Sketch11 → Cut-Extrude1 (cut)
    with SkipClean():  # the faces are left unmerged after this step: merging them gives an invalid solid
        with BuildSketch(Plane(origin=(0, 3.8, 0), x_dir=(1, 0, 0), z_dir=(0, 1, 0))):
            with Locations((30.5, 0)):
                Circle(SKETCH11_R)
            with Locations((-30.5, 0)):
                Circle(SKETCH11_R)
        extrude(amount=-CUT_EXTRUDE1_DEPTH, mode=Mode.SUBTRACT)


solid = part.part
